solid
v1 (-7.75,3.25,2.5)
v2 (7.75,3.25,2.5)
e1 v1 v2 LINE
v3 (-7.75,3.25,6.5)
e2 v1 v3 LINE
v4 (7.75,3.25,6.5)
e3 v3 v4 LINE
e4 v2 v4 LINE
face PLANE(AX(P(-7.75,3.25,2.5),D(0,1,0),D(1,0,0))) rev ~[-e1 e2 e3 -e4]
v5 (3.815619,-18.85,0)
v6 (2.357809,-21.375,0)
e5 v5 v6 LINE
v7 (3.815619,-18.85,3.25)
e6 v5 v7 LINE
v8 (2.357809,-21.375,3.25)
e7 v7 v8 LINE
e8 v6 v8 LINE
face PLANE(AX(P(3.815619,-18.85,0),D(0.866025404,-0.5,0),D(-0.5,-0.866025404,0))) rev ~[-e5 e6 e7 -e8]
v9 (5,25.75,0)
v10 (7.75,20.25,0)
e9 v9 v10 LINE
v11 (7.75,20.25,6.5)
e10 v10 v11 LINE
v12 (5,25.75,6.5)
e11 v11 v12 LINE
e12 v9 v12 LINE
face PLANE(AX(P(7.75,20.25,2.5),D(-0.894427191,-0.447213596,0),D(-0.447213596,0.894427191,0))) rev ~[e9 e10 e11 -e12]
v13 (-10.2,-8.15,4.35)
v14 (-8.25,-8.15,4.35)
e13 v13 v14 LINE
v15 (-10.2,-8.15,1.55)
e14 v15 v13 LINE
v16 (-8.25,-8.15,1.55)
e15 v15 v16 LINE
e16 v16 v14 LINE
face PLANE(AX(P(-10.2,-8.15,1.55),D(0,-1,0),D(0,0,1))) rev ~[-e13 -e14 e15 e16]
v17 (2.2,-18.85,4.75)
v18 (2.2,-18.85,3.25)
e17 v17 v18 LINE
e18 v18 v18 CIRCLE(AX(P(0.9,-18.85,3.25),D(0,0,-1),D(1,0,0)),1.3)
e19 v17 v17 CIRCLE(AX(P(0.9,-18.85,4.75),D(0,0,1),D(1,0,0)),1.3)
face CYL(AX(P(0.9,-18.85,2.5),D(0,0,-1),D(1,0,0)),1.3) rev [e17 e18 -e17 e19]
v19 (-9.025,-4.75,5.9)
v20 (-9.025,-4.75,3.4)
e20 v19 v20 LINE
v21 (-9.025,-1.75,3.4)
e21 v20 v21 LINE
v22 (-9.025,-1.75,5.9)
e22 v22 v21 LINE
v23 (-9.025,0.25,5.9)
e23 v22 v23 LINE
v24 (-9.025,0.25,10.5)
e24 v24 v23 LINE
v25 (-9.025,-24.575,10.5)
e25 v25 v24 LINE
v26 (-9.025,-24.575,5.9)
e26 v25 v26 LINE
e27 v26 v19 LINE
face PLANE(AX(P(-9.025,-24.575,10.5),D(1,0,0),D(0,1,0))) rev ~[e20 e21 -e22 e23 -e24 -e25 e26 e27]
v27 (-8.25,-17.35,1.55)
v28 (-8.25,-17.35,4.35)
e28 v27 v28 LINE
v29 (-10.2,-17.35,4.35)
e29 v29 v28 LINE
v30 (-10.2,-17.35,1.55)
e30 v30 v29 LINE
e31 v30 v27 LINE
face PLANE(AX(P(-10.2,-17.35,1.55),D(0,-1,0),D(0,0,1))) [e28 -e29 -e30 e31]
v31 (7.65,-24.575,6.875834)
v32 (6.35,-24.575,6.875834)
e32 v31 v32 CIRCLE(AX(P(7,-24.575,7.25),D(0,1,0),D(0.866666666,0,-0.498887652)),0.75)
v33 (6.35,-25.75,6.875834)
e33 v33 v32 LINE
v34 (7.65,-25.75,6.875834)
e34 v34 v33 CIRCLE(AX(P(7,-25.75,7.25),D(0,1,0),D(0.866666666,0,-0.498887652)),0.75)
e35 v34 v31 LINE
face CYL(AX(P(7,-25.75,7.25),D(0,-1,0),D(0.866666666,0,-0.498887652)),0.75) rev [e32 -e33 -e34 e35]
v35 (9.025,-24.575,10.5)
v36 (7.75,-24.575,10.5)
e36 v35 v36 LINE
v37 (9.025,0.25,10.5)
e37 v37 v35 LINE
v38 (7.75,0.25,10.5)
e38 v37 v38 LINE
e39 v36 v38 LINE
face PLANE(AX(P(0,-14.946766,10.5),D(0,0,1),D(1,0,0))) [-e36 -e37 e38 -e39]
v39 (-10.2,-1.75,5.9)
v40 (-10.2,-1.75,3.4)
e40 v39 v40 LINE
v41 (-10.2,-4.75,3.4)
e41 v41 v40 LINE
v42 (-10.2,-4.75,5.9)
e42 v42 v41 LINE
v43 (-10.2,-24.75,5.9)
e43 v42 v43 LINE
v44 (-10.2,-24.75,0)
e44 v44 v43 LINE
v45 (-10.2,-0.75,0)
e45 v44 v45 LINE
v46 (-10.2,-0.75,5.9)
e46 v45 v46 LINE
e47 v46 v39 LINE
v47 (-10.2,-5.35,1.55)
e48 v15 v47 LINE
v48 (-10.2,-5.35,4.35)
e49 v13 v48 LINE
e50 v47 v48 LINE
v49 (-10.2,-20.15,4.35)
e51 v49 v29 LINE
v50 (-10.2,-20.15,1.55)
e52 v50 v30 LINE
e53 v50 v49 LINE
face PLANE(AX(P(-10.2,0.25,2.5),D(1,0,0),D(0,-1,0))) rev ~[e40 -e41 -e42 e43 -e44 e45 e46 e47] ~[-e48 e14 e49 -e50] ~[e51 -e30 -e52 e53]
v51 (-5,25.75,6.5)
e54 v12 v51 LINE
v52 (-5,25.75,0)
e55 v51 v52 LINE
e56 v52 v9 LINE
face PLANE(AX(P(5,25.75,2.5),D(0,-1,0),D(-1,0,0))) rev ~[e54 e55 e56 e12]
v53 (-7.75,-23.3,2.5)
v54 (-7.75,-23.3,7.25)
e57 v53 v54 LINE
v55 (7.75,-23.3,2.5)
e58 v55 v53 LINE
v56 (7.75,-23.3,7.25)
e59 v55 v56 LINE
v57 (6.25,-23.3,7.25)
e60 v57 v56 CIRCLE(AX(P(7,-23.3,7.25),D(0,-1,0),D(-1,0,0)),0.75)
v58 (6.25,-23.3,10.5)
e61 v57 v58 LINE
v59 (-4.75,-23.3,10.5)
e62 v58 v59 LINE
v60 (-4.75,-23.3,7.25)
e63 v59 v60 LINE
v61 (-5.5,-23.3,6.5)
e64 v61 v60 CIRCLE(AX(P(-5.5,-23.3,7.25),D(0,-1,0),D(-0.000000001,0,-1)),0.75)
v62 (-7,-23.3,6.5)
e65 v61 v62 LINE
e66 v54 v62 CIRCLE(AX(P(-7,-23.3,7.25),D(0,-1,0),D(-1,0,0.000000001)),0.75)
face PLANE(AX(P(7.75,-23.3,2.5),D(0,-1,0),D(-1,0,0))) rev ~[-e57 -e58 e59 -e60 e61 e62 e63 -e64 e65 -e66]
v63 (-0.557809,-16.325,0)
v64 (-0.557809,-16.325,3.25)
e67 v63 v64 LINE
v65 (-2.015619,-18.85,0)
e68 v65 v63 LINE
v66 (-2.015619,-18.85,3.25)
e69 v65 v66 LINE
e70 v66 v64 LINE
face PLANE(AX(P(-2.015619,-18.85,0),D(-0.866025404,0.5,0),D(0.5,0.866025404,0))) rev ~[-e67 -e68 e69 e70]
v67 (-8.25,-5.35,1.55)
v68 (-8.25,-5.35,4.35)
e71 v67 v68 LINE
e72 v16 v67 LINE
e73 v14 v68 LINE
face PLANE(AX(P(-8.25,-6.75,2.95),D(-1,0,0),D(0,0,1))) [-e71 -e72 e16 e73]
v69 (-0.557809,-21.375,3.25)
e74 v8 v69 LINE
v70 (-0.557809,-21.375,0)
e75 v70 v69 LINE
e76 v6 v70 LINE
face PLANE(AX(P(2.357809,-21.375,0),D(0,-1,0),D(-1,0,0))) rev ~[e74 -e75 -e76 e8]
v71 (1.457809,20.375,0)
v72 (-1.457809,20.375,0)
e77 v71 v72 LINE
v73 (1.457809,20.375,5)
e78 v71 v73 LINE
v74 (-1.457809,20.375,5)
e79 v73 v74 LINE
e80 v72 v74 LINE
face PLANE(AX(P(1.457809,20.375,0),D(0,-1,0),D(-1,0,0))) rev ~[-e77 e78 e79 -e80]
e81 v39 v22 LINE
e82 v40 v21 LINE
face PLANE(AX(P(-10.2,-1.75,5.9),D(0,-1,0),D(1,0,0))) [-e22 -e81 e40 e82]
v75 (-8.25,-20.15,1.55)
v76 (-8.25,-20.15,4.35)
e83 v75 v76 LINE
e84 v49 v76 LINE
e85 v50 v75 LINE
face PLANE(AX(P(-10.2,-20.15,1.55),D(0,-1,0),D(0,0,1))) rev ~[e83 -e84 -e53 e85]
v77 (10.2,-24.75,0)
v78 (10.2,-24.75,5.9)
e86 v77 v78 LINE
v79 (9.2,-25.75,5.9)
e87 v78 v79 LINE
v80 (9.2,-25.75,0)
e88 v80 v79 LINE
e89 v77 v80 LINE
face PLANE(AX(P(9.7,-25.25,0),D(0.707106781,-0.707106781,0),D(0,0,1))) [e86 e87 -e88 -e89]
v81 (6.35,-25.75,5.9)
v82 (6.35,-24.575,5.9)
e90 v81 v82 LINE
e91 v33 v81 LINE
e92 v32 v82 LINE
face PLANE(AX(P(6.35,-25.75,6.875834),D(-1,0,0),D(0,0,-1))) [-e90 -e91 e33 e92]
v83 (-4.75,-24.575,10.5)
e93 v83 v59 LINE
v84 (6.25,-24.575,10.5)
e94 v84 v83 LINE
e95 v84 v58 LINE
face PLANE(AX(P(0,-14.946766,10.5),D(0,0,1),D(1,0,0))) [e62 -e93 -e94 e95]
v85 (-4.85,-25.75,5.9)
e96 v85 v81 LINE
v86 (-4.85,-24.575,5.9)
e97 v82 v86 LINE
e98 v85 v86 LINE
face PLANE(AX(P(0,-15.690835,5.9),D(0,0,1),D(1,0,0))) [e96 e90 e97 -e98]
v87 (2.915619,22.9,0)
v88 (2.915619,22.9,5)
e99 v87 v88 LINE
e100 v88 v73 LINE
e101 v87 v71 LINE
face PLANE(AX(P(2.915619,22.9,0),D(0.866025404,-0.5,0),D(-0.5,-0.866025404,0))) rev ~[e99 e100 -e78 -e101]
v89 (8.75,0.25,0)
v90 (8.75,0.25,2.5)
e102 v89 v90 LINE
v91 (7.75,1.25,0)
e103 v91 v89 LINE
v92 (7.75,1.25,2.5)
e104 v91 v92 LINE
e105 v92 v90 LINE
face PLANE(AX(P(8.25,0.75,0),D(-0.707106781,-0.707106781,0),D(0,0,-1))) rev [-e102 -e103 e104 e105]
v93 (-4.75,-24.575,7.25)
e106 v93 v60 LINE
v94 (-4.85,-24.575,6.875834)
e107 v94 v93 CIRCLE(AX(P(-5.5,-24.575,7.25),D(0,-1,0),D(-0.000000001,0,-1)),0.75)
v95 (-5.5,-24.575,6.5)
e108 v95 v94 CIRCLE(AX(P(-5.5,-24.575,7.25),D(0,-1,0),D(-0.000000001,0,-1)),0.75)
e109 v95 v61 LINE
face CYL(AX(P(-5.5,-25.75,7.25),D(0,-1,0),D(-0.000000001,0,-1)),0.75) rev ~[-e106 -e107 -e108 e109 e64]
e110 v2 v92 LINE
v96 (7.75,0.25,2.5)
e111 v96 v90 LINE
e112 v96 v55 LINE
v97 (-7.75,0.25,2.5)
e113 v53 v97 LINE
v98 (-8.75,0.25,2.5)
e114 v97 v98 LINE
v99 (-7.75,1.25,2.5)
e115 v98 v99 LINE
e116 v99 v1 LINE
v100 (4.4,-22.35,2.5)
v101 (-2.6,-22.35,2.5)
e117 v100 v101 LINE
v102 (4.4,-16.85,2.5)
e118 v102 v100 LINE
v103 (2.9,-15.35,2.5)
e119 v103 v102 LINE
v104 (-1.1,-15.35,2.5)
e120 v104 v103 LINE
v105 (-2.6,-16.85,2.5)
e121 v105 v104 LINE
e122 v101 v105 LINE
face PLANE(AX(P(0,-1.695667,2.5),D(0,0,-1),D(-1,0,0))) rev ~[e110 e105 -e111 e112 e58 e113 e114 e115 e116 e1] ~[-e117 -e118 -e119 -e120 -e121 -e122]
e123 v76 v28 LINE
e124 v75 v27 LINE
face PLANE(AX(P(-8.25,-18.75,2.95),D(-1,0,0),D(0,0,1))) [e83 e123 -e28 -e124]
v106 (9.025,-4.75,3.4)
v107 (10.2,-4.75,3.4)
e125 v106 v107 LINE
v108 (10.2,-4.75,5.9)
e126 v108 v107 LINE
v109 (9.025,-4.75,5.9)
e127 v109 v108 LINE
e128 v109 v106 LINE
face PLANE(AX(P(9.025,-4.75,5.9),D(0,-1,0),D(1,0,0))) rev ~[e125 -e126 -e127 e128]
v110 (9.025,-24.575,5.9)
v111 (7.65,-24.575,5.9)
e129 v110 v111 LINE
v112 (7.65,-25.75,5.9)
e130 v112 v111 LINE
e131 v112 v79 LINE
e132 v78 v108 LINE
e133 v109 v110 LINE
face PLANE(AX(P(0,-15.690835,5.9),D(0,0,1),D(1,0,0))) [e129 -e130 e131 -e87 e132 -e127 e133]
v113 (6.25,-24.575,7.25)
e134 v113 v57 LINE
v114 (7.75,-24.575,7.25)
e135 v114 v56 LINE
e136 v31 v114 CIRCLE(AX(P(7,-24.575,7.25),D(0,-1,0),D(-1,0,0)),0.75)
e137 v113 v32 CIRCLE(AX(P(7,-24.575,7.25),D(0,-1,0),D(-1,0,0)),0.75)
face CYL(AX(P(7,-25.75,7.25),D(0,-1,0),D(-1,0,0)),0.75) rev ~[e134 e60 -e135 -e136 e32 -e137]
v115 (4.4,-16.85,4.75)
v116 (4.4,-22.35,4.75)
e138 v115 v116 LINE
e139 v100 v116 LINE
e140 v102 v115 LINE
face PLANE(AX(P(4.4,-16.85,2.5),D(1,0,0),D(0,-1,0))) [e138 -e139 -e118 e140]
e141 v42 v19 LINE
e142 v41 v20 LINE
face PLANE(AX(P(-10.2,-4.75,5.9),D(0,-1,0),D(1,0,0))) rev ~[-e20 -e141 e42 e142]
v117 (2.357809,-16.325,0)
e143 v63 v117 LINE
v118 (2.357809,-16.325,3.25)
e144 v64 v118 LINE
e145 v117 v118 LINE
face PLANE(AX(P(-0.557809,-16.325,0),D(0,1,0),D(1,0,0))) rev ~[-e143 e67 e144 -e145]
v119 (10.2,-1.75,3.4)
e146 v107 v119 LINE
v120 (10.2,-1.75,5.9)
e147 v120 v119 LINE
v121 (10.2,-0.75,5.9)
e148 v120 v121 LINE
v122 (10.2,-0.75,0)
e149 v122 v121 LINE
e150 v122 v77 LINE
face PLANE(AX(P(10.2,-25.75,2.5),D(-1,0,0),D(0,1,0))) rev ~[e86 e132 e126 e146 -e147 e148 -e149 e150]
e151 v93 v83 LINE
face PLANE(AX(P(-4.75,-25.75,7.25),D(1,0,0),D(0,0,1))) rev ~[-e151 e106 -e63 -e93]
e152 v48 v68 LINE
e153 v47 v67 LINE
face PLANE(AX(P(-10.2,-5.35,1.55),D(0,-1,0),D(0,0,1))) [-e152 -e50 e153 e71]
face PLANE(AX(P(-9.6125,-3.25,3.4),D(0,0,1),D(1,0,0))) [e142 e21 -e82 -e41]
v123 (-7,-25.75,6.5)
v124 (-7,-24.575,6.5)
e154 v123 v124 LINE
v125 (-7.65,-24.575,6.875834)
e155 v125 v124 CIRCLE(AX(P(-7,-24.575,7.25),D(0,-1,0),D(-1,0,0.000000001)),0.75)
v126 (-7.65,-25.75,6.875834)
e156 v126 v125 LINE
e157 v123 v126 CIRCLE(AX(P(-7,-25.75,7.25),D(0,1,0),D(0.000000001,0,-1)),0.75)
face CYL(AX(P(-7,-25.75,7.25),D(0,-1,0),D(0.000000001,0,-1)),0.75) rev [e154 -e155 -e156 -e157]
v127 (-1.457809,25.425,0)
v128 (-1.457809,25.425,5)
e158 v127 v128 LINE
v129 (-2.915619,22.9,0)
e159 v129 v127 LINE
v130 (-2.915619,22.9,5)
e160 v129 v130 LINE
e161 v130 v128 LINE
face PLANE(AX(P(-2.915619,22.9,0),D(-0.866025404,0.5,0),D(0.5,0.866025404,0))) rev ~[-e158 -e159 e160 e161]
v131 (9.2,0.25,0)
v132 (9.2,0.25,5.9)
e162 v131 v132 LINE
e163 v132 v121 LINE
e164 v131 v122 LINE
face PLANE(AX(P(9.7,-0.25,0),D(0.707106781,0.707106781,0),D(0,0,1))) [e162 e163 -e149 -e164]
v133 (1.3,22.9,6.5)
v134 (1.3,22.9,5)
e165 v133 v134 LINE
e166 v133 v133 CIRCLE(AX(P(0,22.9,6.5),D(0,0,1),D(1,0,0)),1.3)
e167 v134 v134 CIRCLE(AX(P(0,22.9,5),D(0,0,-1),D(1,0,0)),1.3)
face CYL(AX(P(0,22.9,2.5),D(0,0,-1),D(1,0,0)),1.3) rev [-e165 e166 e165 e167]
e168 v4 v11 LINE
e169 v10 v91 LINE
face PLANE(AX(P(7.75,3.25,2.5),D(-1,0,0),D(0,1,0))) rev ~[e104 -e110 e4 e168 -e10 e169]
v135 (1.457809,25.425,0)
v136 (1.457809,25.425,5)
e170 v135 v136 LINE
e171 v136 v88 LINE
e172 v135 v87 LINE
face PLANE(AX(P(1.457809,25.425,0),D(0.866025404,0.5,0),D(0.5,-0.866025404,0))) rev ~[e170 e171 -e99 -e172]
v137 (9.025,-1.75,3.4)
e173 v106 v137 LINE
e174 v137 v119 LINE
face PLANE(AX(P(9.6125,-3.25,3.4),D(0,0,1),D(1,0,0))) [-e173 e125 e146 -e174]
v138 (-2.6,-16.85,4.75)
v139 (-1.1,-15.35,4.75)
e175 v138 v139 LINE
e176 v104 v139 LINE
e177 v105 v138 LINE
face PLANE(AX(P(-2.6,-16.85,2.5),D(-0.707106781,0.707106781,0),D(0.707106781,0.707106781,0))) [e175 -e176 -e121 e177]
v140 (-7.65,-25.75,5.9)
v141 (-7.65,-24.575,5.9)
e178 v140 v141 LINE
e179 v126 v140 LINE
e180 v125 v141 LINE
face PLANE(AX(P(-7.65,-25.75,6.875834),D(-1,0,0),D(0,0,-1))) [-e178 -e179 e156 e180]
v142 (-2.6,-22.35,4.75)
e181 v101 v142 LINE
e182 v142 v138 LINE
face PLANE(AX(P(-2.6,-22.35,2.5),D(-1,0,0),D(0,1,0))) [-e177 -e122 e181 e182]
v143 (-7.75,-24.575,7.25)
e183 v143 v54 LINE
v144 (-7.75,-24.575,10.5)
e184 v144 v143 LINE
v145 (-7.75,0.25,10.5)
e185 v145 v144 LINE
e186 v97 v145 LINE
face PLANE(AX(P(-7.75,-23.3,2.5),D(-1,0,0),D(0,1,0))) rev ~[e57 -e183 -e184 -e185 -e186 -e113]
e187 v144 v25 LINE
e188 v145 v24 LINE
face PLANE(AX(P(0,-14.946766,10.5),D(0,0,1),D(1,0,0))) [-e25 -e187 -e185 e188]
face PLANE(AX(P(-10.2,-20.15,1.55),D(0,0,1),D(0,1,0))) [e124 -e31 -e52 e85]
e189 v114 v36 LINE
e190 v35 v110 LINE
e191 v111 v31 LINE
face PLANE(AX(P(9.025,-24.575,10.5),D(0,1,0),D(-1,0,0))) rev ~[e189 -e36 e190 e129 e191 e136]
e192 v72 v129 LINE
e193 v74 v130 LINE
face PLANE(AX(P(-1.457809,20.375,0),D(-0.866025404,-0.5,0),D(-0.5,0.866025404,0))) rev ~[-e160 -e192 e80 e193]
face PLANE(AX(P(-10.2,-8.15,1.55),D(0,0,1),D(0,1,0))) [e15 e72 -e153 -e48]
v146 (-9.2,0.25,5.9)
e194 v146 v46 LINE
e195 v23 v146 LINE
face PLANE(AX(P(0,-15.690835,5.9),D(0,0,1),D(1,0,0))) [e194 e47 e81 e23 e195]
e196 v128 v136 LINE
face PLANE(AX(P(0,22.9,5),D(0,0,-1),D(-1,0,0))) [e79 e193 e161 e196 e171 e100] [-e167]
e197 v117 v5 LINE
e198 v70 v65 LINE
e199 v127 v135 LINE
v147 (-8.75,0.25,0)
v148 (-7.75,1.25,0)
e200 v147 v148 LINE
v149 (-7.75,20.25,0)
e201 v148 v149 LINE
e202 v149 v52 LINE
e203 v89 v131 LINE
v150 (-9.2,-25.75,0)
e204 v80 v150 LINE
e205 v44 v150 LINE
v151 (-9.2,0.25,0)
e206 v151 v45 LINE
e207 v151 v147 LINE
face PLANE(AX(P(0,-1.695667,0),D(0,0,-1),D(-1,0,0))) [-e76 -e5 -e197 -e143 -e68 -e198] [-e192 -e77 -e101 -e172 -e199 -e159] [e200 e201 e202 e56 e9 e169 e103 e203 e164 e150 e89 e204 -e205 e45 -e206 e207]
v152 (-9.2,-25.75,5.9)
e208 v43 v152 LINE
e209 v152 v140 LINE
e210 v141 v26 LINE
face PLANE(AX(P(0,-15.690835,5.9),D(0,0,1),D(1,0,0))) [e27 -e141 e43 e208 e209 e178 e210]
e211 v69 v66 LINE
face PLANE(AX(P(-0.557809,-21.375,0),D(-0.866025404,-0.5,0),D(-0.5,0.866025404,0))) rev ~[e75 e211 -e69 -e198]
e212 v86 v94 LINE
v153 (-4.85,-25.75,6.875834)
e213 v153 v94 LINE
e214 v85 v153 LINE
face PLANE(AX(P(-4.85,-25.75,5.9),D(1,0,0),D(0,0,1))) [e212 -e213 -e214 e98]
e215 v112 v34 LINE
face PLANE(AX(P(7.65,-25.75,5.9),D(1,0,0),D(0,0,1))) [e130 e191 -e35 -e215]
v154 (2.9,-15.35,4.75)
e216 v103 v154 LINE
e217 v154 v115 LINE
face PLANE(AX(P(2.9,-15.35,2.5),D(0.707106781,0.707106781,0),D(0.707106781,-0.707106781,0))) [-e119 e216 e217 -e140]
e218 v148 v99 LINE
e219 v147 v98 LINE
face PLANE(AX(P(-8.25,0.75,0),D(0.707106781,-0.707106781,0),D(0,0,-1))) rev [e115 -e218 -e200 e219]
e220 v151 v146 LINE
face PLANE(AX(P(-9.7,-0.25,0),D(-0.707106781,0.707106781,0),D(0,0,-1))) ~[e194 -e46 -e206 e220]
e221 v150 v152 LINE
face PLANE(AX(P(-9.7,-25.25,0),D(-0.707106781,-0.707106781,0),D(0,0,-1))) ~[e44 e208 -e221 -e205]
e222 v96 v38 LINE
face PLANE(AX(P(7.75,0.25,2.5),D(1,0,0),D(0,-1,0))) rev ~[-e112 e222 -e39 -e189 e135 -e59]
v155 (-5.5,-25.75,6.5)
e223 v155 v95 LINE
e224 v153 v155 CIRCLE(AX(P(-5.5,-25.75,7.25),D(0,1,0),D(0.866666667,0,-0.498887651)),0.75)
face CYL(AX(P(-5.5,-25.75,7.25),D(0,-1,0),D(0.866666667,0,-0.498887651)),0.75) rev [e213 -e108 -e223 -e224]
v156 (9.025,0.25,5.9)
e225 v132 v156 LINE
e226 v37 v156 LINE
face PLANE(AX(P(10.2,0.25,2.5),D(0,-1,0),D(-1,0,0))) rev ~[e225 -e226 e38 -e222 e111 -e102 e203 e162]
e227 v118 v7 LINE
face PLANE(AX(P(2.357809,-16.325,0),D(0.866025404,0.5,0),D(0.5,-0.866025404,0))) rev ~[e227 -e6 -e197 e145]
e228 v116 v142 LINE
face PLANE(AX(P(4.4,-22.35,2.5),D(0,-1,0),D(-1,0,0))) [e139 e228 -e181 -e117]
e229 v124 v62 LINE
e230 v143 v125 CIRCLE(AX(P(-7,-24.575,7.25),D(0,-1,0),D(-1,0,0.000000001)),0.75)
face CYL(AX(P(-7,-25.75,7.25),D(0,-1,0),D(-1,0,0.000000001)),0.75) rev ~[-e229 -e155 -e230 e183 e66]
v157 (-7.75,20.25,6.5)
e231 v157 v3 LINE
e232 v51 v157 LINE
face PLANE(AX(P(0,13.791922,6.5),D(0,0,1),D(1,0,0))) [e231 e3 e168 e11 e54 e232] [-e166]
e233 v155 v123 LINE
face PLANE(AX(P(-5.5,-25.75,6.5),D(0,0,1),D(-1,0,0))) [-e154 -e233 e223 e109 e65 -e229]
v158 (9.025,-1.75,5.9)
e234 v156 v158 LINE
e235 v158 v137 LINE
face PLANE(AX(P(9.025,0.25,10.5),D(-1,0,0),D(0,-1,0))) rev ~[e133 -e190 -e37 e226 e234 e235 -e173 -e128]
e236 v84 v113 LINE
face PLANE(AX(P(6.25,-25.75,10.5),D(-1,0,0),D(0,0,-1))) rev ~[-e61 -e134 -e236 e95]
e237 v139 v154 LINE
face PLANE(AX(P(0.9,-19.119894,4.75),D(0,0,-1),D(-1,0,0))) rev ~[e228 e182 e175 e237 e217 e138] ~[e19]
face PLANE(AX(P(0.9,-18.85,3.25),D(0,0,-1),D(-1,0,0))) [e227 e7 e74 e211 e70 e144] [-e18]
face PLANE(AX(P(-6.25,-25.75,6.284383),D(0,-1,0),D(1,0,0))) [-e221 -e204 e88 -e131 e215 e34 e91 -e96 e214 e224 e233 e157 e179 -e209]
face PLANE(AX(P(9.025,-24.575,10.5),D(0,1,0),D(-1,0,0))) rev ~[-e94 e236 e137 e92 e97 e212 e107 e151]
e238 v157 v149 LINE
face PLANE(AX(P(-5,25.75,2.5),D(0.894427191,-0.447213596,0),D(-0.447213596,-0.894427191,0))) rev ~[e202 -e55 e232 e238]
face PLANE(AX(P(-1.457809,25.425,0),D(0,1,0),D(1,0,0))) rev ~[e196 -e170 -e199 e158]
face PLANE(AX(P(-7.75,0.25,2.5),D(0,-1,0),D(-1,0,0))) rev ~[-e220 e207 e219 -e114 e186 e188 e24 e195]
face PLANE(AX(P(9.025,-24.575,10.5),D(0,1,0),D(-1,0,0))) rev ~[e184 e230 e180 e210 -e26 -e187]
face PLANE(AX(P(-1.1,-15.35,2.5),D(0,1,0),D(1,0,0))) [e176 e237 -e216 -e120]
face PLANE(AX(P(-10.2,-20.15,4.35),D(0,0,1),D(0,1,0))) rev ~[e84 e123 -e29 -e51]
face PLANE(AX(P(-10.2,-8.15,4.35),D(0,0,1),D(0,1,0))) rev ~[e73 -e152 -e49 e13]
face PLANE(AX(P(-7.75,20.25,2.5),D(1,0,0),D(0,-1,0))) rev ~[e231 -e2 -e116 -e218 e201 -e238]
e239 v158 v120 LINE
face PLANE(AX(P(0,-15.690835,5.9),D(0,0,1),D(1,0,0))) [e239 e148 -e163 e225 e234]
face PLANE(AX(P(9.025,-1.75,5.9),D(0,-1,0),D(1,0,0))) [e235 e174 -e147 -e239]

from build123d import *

# Parameters (mm, degrees)
SKETCH1_R           = 1.3
BOSS_EXTRUDE1_DEPTH = 2.5
SKETCH2_R           = 1.3
BOSS_EXTRUDE2_DEPTH = 4
SKETCH3_R           = 1.3
BOSS_EXTRUDE3_DEPTH = 2.25
CUT_EXTRUDE1_DEPTH  = 5
CUT_EXTRUDE2_DEPTH  = 3.25
BOSS_EXTRUDE4_DEPTH = 8
CUT_EXTRUDE3_REACH  = 55.54
CUT_EXTRUDE4_DEPTH  = 4.6
CHAMFER1_SIZE       = 1
SKETCH10_W          = 2.8
SKETCH10_H          = 2.8
CUT_EXTRUDE6_DEPTH  = 1.95
SKETCH12_W          = 1.175
SKETCH12_H          = 3
CUT_EXTRUDE7_DEPTH  = 2.5
BOSS_EXTRUDE6_START = 1.175
BOSS_EXTRUDE6_DEPTH = 1.175


with BuildPart() as part:
    # Sketch1 → Boss-Extrude1 (new body)
    with BuildSketch(Plane.XY):
        Polygon((-5, 25.75), (5, 25.75), (7.75, 20.25), (7.75, 0.25), (10.2, 0.25), (10.2, -25.75), (-10.2, -25.75), (-10.2, 0.25), (-7.75, 0.25), (-7.75, 20.25), align=None)
        with Locations((0, 22.9)):
            Circle(SKETCH1_R, mode=Mode.SUBTRACT)
        with Locations((0.9, -18.85)):
            Circle(SKETCH1_R, mode=Mode.SUBTRACT)
    extrude(amount=BOSS_EXTRUDE1_DEPTH)

    # Sketch2 → Boss-Extrude2 (add)
    with BuildSketch(Plane.XY.offset(2.5)):
        Polygon((-7.75, 3.25), (7.75, 3.25), (7.75, 20.25), (5, 25.75), (-5, 25.75), (-7.75, 20.25), align=None)
        with Locations((0, 22.9)):
            Circle(SKETCH2_R, mode=Mode.SUBTRACT)
    extrude(amount=BOSS_EXTRUDE2_DEPTH)

    # Sketch3 → Boss-Extrude3 (add)
    with BuildSketch(Plane.XY.offset(2.5)):
        Polygon((-1.1, -15.35), (2.9, -15.35), (4.4, -16.85), (4.4, -22.35), (-2.6, -22.35), (-2.6, -16.85), align=None)
        with Locations((0.9, -18.85)):
            Circle(SKETCH3_R, mode=Mode.SUBTRACT)
    extrude(amount=BOSS_EXTRUDE3_DEPTH)

    # Sketch4 → Cut-Extrude1 (cut)
    with BuildSketch(Plane(origin=(0, 0, 0), x_dir=(-1, 0, 0), z_dir=(0, 0, -1))):
        Polygon((2.915618859, 22.9), (1.45780943, 25.425), (-1.45780943, 25.425), (-2.915618859, 22.9), (-1.45780943, 20.375), (1.45780943, 20.375), align=None)
    extrude(amount=-CUT_EXTRUDE1_DEPTH, mode=Mode.SUBTRACT)

    # Sketch5 → Cut-Extrude2 (cut)
    with BuildSketch(Plane(origin=(0, 0, 0), x_dir=(-1, 0, 0), z_dir=(0, 0, -1))):
        Polygon((2.015618859, -18.85), (0.55780943, -16.325), (-2.35780943, -16.325), (-3.815618859, -18.85), (-2.35780943, -21.375), (0.55780943, -21.375), align=None)
    extrude(amount=-CUT_EXTRUDE2_DEPTH, mode=Mode.SUBTRACT)

    # Sketch6 → Boss-Extrude4 (add)
    with BuildSketch(Plane.XY.offset(2.5)):
        Polygon((-7.75, 0.25), (-10.2, 0.25), (-10.2, -25.75), (10.2, -25.75), (10.2, 0.25), (7.75, 0.25), (7.75, -23.3), (-7.75, -23.3), align=None)
    extrude(amount=BOSS_EXTRUDE4_DEPTH)

    # Sketch8 → Cut-Extrude3 (cut, up to next)
    with BuildSketch(Plane.XZ.offset(25.75), mode=Mode.PRIVATE) as cut_extrude3_sk1:
        with BuildLine():
            Line((-7.75, 10.5), (-7.75, 7.25))
            ThreePointArc((-7.75, 7.25), (-7.530330086, 6.719669914), (-7, 6.5))
            Line((-7, 6.5), (-5.5, 6.5))
            ThreePointArc((-5.5, 6.5), (-4.969669914, 6.719669914), (-4.75, 7.25))
            Line((-4.75, 7.25), (-4.75, 10.5))
            Line((-4.75, 10.5), (-7.75, 10.5))
        make_face()
    cut_extrude3_tool1 = extrude(cut_extrude3_sk1.sketch, amount=-CUT_EXTRUDE3_REACH, mode=Mode.PRIVATE) & part.part
    # Sketch8 → Cut-Extrude3 (cut, up to next)
    with BuildSketch(Plane.XZ.offset(25.75), mode=Mode.PRIVATE) as cut_extrude3_sk2:
        with BuildLine():
            Line((6.25, 10.5), (6.25, 7.25))
            ThreePointArc((6.25, 7.25), (7, 6.5), (7.75, 7.25))
            Line((7.75, 7.25), (7.75, 10.5))
            Line((7.75, 10.5), (6.25, 10.5))
        make_face()
    cut_extrude3_tool2 = extrude(cut_extrude3_sk2.sketch, amount=-CUT_EXTRUDE3_REACH, mode=Mode.PRIVATE) & part.part
    add(cut_extrude3_tool1.solids().sort_by_distance((-6.25, -25.75, 8.537624))[0], mode=Mode.SUBTRACT)
    add(cut_extrude3_tool2.solids().sort_by_distance((7, -25.75, 8.576826))[0], mode=Mode.SUBTRACT)

    # Sketch9 → Cut-Extrude4 (cut)
    with BuildSketch(Plane.XY.offset(10.5)):
        Polygon((-9.025, 0.25), (-10.2, 0.25), (-10.2, -25.75), (10.2, -25.75), (10.2, 0.25), (9.025, 0.25), (9.025, -24.575), (-9.025, -24.575), align=None)
    extrude(amount=-CUT_EXTRUDE4_DEPTH, mode=Mode.SUBTRACT)

    # Chamfer1
    chamfer1_edges = [part.edges().sort_by_distance(p)[0] for p in [
        (-7.75, 0.25, 1.25),
        (7.75, 0.25, 1.25),
        (-10.2, -25.75, 2.95),
        (-10.2, 0.25, 2.95),
        (10.2, 0.25, 2.95),
        (10.2, -25.75, 2.95),
    ]]
    chamfer(chamfer1_edges, length=CHAMFER1_SIZE)

    # Sketch10 → Cut-Extrude6 (cut)
    with BuildSketch(Plane.ZY.offset(10.2)):
        with Locations((2.95, -6.75)):
            Rectangle(SKETCH10_W, SKETCH10_H)
        with Locations((2.95, -18.75)):
            Rectangle(SKETCH10_W, SKETCH10_H)
    extrude(amount=-CUT_EXTRUDE6_DEPTH, mode=Mode.SUBTRACT)

    # Sketch12 → Cut-Extrude7 (cut)
    with BuildSketch(Plane.XY.offset(5.9)):
        with Locations((-9.6125, -3.25)):
            Rectangle(SKETCH12_W, SKETCH12_H)
        with Locations((9.6125, -3.25)):
            Rectangle(SKETCH12_W, SKETCH12_H)
    extrude(amount=-CUT_EXTRUDE7_DEPTH, mode=Mode.SUBTRACT)

    # Sketch13 → Boss-Extrude6 (add)
    with BuildSketch(Plane.XZ.offset(24.575).offset(BOSS_EXTRUDE6_START)):
        with BuildLine():
            Line((-7.65, 6.875834261), (-7.65, 5.9))
            Line((-7.65, 5.9), (-4.85, 5.9))
            Line((-4.85, 5.9), (-4.85, 6.875834261))
            ThreePointArc((-4.85, 6.875834261), (-5.124583101, 6.600721822), (-5.5, 6.5))
            Line((-5.5, 6.5), (-7, 6.5))
            ThreePointArc((-7, 6.5), (-7.375416899, 6.600721822), (-7.65, 6.875834261))
        make_face()
        with BuildLine():
            Line((6.35, 6.875834261), (6.35, 5.9))
            Line((6.35, 5.9), (7.65, 5.9))
            Line((7.65, 5.9), (7.65, 6.875834261))
            ThreePointArc((7.65, 6.875834261), (7, 6.5), (6.35, 6.875834261))
        make_face()
    extrude(amount=-BOSS_EXTRUDE6_DEPTH)


solid = part.part
